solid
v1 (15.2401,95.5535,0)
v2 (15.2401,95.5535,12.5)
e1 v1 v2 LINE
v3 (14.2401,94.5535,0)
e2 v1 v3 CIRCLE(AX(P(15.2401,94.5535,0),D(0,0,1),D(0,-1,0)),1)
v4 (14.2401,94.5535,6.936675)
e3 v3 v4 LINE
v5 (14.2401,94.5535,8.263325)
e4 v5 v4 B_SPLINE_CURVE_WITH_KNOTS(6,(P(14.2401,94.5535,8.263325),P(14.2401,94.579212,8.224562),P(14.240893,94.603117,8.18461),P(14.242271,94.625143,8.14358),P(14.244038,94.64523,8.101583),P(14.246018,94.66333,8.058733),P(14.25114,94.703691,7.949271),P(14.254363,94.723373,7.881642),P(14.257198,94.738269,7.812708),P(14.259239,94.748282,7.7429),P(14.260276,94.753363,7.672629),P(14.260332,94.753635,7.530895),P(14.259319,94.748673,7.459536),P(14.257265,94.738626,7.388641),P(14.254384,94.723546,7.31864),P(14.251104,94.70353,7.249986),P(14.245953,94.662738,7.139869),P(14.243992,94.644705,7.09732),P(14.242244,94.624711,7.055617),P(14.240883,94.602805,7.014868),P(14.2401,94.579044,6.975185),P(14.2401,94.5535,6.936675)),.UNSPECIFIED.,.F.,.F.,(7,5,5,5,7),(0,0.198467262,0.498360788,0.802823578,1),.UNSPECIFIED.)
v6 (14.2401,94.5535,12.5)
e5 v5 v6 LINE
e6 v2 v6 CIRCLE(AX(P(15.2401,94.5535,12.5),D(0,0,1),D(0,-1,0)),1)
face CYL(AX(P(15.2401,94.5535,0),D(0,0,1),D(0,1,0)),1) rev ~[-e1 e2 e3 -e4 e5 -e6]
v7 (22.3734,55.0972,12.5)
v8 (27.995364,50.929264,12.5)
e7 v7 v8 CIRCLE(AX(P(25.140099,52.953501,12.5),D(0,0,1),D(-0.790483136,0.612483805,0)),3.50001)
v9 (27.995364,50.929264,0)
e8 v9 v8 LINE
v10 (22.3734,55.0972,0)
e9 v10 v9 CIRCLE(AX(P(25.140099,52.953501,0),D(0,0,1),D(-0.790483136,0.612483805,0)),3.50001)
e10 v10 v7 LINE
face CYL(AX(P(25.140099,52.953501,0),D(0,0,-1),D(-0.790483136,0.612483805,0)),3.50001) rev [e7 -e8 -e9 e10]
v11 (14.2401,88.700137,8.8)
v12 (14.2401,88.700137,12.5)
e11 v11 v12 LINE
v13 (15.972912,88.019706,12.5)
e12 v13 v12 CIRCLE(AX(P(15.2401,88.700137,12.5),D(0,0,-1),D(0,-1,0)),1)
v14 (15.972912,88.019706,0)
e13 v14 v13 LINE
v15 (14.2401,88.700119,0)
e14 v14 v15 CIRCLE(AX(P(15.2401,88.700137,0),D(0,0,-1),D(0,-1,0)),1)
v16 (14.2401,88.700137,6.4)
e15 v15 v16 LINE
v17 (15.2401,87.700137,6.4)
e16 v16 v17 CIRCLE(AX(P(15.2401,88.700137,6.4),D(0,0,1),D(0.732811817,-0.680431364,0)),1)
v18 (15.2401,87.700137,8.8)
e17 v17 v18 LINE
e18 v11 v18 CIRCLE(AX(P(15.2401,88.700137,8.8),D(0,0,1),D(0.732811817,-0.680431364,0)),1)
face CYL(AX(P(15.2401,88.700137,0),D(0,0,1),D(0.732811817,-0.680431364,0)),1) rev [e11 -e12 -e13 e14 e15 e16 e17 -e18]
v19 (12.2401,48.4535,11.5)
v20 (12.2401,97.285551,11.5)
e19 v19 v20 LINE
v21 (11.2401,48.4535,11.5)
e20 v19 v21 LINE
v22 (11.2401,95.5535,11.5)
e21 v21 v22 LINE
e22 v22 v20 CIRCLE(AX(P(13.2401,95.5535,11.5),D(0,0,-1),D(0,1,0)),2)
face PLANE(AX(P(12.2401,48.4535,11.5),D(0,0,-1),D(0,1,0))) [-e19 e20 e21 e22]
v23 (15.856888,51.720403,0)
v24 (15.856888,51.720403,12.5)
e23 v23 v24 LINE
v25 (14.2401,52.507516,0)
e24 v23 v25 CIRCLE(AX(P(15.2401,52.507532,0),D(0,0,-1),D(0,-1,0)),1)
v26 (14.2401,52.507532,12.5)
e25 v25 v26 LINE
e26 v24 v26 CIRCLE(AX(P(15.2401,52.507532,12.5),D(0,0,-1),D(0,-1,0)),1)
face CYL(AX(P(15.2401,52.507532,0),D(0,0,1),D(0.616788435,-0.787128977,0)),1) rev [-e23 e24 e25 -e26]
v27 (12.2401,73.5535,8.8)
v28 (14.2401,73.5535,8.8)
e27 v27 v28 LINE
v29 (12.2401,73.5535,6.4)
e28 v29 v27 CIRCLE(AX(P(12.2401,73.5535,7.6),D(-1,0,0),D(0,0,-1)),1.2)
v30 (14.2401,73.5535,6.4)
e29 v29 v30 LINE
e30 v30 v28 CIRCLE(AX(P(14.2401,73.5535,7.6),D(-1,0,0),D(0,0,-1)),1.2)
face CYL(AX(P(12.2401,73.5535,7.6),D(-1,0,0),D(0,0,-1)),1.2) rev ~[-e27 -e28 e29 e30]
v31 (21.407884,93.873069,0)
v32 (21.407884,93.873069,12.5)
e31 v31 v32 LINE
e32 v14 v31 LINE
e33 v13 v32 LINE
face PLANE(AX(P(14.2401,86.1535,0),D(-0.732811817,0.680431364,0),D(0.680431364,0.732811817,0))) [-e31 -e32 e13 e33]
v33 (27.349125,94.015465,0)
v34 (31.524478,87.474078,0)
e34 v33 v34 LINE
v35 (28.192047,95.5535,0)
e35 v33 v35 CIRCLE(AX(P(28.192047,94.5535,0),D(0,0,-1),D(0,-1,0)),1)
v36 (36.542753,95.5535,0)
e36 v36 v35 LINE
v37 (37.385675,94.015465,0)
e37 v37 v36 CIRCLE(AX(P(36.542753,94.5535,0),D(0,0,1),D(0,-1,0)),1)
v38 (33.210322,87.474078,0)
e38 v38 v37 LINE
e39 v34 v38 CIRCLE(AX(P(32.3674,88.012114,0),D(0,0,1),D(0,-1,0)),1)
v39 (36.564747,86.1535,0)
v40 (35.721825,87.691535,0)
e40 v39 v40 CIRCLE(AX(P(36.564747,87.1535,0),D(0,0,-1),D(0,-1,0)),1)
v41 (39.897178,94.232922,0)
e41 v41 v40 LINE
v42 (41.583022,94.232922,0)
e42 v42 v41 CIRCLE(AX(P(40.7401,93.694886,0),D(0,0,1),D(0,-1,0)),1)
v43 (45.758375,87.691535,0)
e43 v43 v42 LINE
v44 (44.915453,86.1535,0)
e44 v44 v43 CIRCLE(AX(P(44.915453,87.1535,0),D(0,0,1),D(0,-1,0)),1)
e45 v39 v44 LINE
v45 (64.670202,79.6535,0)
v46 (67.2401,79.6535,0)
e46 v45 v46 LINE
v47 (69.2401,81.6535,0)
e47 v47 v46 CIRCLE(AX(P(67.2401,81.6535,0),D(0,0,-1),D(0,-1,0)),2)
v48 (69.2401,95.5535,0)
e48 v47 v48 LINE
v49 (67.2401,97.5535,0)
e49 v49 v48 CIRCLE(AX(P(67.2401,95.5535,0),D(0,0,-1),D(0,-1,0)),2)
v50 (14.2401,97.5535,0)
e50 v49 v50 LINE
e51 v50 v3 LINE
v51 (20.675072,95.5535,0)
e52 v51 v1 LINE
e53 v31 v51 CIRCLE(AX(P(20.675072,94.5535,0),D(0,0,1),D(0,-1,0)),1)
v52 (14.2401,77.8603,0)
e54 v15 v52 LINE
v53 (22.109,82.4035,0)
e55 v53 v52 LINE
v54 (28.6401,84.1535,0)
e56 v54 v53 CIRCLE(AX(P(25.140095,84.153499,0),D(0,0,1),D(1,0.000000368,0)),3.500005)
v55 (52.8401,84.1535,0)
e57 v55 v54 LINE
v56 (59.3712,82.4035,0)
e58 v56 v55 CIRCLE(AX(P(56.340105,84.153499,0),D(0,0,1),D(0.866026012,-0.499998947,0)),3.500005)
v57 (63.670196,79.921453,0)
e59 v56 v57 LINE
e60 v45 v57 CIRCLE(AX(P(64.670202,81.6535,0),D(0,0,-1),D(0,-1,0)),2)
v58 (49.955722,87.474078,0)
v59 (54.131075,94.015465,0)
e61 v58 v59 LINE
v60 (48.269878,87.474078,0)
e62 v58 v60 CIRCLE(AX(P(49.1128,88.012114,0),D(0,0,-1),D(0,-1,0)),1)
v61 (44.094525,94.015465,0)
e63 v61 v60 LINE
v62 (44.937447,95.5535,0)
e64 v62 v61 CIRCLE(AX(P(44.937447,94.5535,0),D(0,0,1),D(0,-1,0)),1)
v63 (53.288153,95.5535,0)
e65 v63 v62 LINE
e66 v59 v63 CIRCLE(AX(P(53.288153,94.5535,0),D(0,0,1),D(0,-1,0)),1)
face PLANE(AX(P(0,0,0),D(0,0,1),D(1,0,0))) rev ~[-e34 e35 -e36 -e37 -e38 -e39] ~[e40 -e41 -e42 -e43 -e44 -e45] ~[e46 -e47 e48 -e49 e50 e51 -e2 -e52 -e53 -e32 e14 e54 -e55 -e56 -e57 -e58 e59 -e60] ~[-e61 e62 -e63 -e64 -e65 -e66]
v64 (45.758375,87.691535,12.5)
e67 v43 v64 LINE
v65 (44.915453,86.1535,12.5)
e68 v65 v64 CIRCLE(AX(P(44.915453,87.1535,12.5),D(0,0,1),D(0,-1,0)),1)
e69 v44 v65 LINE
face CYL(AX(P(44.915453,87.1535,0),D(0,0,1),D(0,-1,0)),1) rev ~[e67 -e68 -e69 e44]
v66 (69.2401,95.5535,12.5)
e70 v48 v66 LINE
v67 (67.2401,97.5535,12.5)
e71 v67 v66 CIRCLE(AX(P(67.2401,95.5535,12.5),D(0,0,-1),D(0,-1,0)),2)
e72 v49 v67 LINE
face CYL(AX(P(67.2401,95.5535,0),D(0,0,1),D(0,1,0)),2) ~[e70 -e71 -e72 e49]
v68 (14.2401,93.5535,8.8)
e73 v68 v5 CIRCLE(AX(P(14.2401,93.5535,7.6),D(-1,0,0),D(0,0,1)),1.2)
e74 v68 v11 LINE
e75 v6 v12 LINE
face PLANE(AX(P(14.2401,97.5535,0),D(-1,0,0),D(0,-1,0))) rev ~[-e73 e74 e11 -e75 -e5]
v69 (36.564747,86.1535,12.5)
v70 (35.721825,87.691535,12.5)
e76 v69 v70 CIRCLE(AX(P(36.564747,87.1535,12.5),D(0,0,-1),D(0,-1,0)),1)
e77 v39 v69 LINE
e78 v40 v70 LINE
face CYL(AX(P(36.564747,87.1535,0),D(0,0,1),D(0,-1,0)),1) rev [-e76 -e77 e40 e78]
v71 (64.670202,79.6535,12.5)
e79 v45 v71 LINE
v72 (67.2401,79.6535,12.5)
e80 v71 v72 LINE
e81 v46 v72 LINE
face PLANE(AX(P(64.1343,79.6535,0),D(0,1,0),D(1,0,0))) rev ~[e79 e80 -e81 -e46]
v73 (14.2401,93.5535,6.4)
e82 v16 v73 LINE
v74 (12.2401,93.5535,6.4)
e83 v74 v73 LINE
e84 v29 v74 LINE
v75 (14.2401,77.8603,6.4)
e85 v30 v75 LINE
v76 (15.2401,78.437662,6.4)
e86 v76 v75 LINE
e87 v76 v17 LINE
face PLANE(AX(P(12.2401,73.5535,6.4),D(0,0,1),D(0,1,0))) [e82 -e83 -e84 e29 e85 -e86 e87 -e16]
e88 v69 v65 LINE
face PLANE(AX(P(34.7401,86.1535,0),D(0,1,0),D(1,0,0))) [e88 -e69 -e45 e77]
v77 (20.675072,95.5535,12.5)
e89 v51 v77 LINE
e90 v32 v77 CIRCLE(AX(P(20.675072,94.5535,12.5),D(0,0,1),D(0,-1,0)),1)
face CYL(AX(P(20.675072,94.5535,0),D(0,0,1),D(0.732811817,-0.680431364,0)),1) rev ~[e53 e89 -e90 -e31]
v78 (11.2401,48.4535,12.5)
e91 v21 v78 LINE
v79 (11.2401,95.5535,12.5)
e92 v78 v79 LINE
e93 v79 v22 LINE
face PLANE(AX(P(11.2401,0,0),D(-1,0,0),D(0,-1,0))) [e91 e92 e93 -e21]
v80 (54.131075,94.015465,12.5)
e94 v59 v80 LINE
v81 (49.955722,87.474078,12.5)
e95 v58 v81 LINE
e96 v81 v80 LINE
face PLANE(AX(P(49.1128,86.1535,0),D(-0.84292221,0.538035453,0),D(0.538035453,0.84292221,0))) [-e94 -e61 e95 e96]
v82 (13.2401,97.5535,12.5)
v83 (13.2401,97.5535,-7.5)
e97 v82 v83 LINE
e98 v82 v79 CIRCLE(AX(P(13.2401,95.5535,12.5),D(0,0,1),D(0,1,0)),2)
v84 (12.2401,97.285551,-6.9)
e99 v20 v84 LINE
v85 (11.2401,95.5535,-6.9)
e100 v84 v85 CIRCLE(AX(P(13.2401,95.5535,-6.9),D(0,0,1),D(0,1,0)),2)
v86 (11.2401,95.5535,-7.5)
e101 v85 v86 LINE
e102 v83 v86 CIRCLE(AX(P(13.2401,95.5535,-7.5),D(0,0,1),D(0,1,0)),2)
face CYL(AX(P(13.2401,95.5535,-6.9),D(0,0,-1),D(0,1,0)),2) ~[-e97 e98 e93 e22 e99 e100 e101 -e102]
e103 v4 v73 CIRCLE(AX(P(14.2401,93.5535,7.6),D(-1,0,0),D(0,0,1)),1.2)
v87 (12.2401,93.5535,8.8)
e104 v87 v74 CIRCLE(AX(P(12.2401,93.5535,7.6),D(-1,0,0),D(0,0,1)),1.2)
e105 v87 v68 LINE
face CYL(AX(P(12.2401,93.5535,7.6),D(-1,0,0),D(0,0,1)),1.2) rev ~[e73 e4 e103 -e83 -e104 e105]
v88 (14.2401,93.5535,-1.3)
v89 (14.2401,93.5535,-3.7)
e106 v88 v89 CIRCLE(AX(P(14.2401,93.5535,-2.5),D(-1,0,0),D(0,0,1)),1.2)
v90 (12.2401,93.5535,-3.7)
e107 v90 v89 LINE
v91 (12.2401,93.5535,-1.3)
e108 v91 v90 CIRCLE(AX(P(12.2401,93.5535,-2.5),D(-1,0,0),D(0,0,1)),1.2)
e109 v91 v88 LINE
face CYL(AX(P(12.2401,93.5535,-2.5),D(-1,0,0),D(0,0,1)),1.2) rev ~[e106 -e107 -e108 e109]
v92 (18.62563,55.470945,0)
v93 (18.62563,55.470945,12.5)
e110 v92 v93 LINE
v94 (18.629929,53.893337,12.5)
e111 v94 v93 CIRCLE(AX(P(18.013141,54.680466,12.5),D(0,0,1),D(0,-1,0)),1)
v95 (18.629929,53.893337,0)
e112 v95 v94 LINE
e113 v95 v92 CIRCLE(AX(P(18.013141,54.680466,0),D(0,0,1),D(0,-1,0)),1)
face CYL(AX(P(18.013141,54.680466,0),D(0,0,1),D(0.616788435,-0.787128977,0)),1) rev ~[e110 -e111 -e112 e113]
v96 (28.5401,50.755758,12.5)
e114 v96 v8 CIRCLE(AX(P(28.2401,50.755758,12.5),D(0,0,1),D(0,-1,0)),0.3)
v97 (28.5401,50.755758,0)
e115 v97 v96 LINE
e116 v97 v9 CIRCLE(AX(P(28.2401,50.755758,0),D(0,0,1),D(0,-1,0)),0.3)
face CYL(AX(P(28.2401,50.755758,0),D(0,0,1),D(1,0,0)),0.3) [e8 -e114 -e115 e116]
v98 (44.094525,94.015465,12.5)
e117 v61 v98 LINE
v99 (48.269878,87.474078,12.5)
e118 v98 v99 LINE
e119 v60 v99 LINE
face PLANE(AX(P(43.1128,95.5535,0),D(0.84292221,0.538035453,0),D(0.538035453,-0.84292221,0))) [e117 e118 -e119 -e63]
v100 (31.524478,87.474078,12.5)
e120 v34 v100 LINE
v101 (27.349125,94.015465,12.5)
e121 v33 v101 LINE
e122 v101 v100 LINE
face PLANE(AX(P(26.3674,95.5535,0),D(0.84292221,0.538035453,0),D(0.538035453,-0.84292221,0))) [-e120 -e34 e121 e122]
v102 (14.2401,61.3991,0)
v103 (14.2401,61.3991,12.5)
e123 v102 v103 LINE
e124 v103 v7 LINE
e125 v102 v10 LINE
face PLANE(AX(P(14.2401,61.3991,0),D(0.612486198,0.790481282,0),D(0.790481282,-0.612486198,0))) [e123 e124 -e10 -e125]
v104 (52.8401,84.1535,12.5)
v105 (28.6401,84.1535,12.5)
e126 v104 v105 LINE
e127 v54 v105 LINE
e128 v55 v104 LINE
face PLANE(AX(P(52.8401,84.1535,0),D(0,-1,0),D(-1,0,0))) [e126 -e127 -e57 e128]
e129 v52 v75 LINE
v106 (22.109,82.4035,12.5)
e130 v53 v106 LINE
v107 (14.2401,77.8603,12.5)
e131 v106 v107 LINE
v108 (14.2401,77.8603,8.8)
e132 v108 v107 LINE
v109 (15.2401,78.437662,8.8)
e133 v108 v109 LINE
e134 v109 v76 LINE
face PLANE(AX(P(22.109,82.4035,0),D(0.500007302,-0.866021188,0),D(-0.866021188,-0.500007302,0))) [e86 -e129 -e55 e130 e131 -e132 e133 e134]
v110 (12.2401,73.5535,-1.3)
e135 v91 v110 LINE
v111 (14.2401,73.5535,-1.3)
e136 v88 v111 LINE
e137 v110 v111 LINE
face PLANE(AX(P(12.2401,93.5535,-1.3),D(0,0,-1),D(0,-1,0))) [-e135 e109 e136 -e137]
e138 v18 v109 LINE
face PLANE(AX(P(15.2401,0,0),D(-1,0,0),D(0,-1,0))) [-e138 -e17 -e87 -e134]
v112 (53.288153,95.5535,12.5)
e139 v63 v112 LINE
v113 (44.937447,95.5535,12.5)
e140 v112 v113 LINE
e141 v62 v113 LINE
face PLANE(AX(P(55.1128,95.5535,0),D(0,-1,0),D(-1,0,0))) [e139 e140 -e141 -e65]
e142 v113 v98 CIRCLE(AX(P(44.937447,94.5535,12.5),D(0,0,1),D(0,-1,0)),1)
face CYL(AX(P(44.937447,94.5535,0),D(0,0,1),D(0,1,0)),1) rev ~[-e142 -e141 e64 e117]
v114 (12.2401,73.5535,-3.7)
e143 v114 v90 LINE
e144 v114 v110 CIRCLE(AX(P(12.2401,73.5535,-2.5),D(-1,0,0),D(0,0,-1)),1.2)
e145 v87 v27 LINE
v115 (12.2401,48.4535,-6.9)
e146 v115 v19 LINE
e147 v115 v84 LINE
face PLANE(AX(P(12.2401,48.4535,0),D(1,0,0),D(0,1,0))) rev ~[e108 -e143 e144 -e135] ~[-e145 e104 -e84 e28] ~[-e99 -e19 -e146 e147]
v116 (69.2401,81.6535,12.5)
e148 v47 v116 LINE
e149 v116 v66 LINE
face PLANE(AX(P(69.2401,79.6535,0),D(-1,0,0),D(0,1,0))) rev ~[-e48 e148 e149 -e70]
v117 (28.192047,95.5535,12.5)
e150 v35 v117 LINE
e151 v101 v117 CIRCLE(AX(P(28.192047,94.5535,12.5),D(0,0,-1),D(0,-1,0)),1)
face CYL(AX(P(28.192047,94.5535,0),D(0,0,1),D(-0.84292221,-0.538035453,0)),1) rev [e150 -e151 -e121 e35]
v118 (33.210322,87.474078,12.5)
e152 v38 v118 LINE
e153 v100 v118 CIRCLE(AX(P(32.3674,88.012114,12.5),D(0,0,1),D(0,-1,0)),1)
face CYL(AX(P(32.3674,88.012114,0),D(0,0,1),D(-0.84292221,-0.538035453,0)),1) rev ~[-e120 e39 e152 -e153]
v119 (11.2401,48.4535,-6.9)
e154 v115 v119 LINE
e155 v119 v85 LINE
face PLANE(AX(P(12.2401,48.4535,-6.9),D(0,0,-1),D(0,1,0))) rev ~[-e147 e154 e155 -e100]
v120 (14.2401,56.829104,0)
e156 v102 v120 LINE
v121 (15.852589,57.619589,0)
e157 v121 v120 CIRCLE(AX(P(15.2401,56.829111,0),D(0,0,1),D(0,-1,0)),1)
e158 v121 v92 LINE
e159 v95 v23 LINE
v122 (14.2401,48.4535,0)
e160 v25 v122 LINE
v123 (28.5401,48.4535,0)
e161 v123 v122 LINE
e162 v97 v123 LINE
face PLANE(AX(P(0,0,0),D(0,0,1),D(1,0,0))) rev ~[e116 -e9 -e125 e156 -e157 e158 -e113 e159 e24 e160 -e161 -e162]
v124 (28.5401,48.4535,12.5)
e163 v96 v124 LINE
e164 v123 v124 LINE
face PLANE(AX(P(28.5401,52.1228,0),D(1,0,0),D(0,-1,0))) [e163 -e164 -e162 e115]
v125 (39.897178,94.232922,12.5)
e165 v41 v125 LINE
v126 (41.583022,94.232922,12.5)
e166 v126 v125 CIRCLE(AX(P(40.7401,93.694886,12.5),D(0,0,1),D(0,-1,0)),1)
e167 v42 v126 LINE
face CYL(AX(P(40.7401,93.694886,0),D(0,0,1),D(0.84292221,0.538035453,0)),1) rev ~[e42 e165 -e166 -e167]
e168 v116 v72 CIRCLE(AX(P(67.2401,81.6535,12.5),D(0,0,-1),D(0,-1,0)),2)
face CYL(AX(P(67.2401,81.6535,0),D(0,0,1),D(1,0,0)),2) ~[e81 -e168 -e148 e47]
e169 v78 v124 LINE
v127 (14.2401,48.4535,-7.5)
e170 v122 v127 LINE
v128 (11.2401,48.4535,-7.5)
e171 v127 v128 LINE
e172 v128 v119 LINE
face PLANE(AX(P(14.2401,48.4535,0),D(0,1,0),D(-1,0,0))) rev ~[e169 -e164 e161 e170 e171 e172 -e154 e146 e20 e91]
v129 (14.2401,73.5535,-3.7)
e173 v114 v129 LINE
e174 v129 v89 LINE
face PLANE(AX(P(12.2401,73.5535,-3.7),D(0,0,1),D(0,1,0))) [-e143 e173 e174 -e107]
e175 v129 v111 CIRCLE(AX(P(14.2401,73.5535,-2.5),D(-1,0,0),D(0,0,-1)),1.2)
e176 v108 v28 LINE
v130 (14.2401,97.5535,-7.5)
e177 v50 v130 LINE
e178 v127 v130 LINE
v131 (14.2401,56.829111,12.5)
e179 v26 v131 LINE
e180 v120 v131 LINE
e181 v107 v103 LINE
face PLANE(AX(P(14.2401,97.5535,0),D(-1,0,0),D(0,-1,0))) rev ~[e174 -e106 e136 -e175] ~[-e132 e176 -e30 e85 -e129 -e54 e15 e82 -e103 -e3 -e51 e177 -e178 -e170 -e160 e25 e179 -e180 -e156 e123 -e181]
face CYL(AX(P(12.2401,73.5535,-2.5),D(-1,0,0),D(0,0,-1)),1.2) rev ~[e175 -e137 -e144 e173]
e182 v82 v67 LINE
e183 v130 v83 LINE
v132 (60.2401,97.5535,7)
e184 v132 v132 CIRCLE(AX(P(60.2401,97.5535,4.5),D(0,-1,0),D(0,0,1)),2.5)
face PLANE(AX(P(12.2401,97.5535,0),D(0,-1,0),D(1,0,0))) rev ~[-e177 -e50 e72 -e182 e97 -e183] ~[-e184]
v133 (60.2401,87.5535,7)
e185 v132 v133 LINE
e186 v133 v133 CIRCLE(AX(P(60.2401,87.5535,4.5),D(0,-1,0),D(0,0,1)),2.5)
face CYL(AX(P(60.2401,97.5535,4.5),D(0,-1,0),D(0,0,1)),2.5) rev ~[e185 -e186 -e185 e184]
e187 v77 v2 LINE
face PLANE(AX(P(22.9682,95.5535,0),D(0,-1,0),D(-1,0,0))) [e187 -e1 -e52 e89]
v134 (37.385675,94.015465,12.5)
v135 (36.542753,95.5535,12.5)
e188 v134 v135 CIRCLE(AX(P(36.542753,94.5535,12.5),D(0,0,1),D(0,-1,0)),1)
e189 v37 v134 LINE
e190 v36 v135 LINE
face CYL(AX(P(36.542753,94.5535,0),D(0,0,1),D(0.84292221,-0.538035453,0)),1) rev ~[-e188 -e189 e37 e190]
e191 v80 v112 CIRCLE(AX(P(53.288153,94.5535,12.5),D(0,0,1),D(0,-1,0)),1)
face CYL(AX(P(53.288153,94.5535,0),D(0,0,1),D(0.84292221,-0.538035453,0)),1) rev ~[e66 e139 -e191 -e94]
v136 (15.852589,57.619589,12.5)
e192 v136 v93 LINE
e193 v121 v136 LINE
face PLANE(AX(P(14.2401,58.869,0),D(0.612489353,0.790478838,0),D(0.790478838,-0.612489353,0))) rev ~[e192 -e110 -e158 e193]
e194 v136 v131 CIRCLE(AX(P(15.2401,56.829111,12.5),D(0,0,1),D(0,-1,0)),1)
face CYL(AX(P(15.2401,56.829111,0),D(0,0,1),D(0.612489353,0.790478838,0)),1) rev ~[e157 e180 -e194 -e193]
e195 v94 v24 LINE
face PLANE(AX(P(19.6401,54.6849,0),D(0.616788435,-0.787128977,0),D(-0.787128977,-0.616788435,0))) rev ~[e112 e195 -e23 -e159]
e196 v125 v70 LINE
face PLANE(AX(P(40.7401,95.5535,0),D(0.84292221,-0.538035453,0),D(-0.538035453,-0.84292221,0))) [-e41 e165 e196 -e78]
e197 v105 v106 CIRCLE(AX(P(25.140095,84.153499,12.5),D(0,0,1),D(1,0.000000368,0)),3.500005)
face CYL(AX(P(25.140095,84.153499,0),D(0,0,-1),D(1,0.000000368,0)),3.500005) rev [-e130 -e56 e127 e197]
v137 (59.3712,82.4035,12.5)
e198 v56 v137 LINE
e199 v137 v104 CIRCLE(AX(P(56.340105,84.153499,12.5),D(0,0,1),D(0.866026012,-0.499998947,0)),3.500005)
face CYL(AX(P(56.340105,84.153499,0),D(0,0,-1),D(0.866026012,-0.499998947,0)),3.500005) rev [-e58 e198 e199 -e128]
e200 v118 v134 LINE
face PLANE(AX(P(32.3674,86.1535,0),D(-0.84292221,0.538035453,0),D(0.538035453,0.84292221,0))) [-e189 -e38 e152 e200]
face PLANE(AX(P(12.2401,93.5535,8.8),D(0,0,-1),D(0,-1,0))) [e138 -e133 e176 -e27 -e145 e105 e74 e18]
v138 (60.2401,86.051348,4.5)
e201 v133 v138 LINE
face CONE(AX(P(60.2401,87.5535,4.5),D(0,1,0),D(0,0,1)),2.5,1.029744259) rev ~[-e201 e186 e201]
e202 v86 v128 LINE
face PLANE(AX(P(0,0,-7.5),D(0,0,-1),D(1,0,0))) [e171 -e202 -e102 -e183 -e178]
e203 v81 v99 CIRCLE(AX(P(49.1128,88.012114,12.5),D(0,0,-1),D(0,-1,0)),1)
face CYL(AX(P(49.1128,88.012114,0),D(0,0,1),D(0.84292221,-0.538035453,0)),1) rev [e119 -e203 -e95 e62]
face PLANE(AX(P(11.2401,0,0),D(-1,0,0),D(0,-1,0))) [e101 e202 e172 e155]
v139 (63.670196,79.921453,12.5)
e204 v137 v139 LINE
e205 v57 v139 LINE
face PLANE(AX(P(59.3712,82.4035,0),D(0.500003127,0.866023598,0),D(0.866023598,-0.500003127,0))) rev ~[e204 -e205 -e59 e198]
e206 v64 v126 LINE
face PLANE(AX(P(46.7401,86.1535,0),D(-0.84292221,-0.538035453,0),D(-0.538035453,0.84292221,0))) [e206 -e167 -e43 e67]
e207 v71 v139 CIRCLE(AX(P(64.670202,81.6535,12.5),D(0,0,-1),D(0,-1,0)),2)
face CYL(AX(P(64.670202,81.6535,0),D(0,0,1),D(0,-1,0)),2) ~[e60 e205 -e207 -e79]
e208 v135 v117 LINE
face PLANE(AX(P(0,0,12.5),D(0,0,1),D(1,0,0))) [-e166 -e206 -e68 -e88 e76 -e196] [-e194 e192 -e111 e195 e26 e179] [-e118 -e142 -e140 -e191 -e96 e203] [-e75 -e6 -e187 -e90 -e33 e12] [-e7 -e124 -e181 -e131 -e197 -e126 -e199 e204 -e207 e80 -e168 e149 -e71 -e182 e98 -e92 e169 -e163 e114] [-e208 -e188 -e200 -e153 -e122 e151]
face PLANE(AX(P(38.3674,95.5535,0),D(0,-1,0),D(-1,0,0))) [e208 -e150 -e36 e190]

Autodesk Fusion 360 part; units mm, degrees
sketch "Sketch1" plane through (0, 0, 0) normal (0, 0, 1) x (1, 0, 0)
  line L0 (69.2401, 97.5535) -> (12.2401, 97.5535)
  line L1 (12.2401, 97.5535) -> (12.2401, 48.4535)
  line L2 (52.8401, 84.1535) -> (28.6401, 84.1535)
  line L3 (59.3712, 82.4035) -> (64.1343, 79.6535)
  line L4 (64.1343, 79.6535) -> (69.2401, 79.6535)
  line L5 (69.2401, 79.6535) -> (69.2401, 97.5535)
  line L6 (22.109, 82.4035) -> (14.2401, 77.8603)
  line L7 (14.2401, 77.8603) -> (14.2401, 61.3991)
  line L8 (14.2401, 61.3991) -> (22.3734, 55.0972)
  line L9 (28.5401, 52.1228) -> (28.5401, 48.4535)
  line L10 (28.5401, 48.4535) -> (12.2401, 48.4535)
  arc A0 (59.3712, 82.4035) -> (52.8401, 84.1535) centre (56.3401, 84.1535) ccw
  arc A1 (28.6401, 84.1535) -> (22.109, 82.4035) centre (25.1401, 84.1535) ccw
  arc A2 (22.3734, 55.0972) -> (28.5401, 52.1228) centre (25.1401, 52.9535) ccw
  line L11 (14.2401, 50.4535) -> (14.2401, 58.869)
  line L12 (14.2401, 58.869) -> (19.6401, 54.6849)
  line L13 (19.6401, 54.6849) -> (14.2401, 50.4535)
  line L14 (14.2401, 86.1535) -> (22.9682, 95.5535)
  line L15 (22.9682, 95.5535) -> (14.2401, 95.5535)
  line L16 (14.2401, 95.5535) -> (14.2401, 86.1535)
  line L17 (26.3674, 95.5535) -> (32.3674, 86.1535)
  line L18 (32.3674, 86.1535) -> (38.3674, 95.5535)
  line L19 (38.3674, 95.5535) -> (26.3674, 95.5535)
  line L20 (49.1128, 86.1535) -> (55.1128, 95.5535)
  line L21 (55.1128, 95.5535) -> (43.1128, 95.5535)
  line L22 (43.1128, 95.5535) -> (49.1128, 86.1535)
  line L23 (34.7401, 86.1535) -> (46.7401, 86.1535)
  line L24 (46.7401, 86.1535) -> (40.7401, 95.5535)
  line L25 (40.7401, 95.5535) -> (34.7401, 86.1535)
  dimension "d1" = 7
  dimension "d2" = 7
  dimension "d3" = 31.2
  dimension "d10" = 7
  dimension "d11" = 150
  dimension "d12" = 150
  dimension "d13" = 127.769
  dimension "d14" = 12.9
  dimension "d15" = 12.9
  dimension "d16" = 31.2
  dimension "d17" = 4.5
  dimension "d18" = 13.4
  dimension "d19" = 12.9
  dimension "d21" = 4.5
  dimension "d23" = 2
  dimension "d24" = 5.5
  dimension "d25" = 2
  dimension "d26" = 2
  dimension "d27" = 2
  dimension "d35" = 2
  dimension "d36" = 2
  dimension "d37" = 2
  dimension "d38" = 2
  dimension "d39" = 2
  dimension "d40" = 2
  dimension "d41" = 2
  dimension "d42" = 2
  dimension "d43" = 2
  dimension "d44" = 2
  dimension "d45" = 12
  dimension "d46" = 15.6
  dimension "d47" = 2
  dimension "d74" = 90
  dimension "d77" = 3.4
extrude "Extrude1" add sketch "Sketch1" along normal blind 12.5
sketch "Sketch2" plane through (0, 97.5535, 0) normal (0, 1, 0) x (-1, 0, 0)
  line L0 (-69.2401, 0) -> (-12.2401, 0)
  line L1 (-12.2401, 0) -> (-12.2401, 12.5)
  line L2 (-12.2401, 12.5) -> (-69.2401, 12.5)
  line L3 (-69.2401, 12.5) -> (-69.2401, 0)
  point P0 (-60.2401, 4.5)
  dimension "d30" = 9
  dimension "d31" = 8
hole "Hole1" at (60.2401, 97.5535, 4.5) direction (0, -1, 0) diameter 5 depth 10 tip angle 118
fillet "Fillet2" radius 1 15 edges at (55.1128, 95.5535, 6.25) (43.1128, 95.5535, 6.25) (49.1128, 86.1535, 6.25) (46.7401, 86.1535, 6.25) (40.7401, 95.5535, 6.25) (34.7401, 86.1535, 6.25) (38.3674, 95.5535, 6.25) (32.3674, 86.1535, 6.25) (26.3674, 95.5535, 6.25) (22.9682, 95.5535, 6.25) (14.2401, 86.1535, 6.25) (14.2401, 95.5535, 6.25) (19.6401, 54.6849, 6.25) (14.2401, 58.869, 6.25) (14.2401, 50.4535, 6.25)
sketch "Sketch3" plane through (0, 0, 0) normal (0, 0, -1) x (1, 0, 0)
  line L0 (69.2401, -79.6535) -> (64.1343, -79.6535)
  line L1 (64.1343, -79.6535) -> (59.3712, -82.4035)
  arc A0 (52.8401, -84.1535) -> (59.3712, -82.4035) centre (56.3401, -84.1535) ccw
  line L2 (52.8401, -84.1535) -> (28.6401, -84.1535)
  arc A1 (22.109, -82.4035) -> (28.6401, -84.1535) centre (25.1401, -84.1535) ccw
  line L3 (22.109, -82.4035) -> (14.2401, -77.8603)
  line L4 (14.2401, -77.8603) -> (14.2401, -61.3991)
  line L5 (14.2401, -61.3991) -> (22.3734, -55.0972)
  arc A2 (28.5401, -52.1228) -> (22.3734, -55.0972) centre (25.1401, -52.9535) ccw
  line L6 (28.5401, -52.1228) -> (28.5401, -48.4535)
  line L7 (28.5401, -48.4535) -> (12.2401, -48.4535)
  line L8 (12.2401, -48.4535) -> (12.2401, -97.5535)
  line L9 (12.2401, -97.5535) -> (69.2401, -97.5535)
  line L10 (69.2401, -97.5535) -> (69.2401, -79.6535)
  arc A3 (27.3491, -94.0154) -> (28.1921, -95.5535) centre (28.1921, -94.5535) ccw
  line L11 (27.3491, -94.0154) -> (31.5245, -87.474)
  arc A4 (33.2103, -87.474) -> (31.5245, -87.474) centre (32.3674, -88.0121) ccw
  line L12 (33.2103, -87.474) -> (37.3857, -94.0154)
  arc A5 (36.5428, -95.5535) -> (37.3857, -94.0154) centre (36.5428, -94.5535) ccw
  line L13 (36.5428, -95.5535) -> (28.1921, -95.5535)
  arc A6 (14.2401, -56.8291) -> (15.8526, -57.6196) centre (15.2401, -56.8291) ccw
  line L14 (14.2401, -56.8291) -> (14.2401, -52.5075)
  arc A7 (15.8569, -51.7204) -> (14.2401, -52.5075) centre (15.2401, -52.5075) ccw
  line L15 (15.8569, -51.7204) -> (18.6299, -53.8933)
  arc A8 (18.6256, -55.4709) -> (18.6299, -53.8933) centre (18.0131, -54.6805) ccw
  line L16 (18.6256, -55.4709) -> (15.8526, -57.6196)
  arc A9 (15.9729, -88.0197) -> (14.2401, -88.7001) centre (15.2401, -88.7001) ccw
  line L17 (15.9729, -88.0197) -> (21.4079, -93.873)
  arc A10 (20.6751, -95.5535) -> (21.4079, -93.873) centre (20.6751, -94.5535) ccw
  line L18 (20.6751, -95.5535) -> (15.2401, -95.5535)
  arc A11 (14.2401, -94.5535) -> (15.2401, -95.5535) centre (15.2401, -94.5535) ccw
  line L19 (14.2401, -94.5535) -> (14.2401, -88.7001)
  arc A12 (49.9557, -87.474) -> (48.2699, -87.474) centre (49.1128, -88.0121) ccw
  line L20 (49.9557, -87.474) -> (54.1311, -94.0154)
  arc A13 (53.2882, -95.5535) -> (54.1311, -94.0154) centre (53.2882, -94.5535) ccw
  line L21 (53.2882, -95.5535) -> (44.9375, -95.5535)
  arc A14 (44.0945, -94.0154) -> (44.9375, -95.5535) centre (44.9375, -94.5535) ccw
  line L22 (44.0945, -94.0154) -> (48.2699, -87.474)
  arc A15 (36.5648, -86.1535) -> (35.7218, -87.6915) centre (36.5648, -87.1535) ccw
  line L23 (36.5648, -86.1535) -> (44.9155, -86.1535)
  arc A16 (45.7584, -87.6915) -> (44.9155, -86.1535) centre (44.9155, -87.1535) ccw
  line L24 (45.7584, -87.6915) -> (41.583, -94.2329)
  arc A17 (39.8972, -94.2329) -> (41.583, -94.2329) centre (40.7401, -93.6948) ccw
  line L25 (39.8972, -94.2329) -> (35.7218, -87.6915)
  line L26 (12.2401, -48.4535) -> (14.2401, -48.4535)
  line L27 (12.2401, -48.4535) -> (12.2401, -97.5535)
  line L28 (12.2401, -97.5535) -> (14.2401, -97.5535)
  line L29 (14.2401, -97.5535) -> (14.2401, -48.4535)
  dimension "d51" = 2
  dimension "d52" = 2
extrude "Extrude2" add sketch "Sketch3" along normal blind 7.5 contours L4 L7 L8 L9 L14 L19 L26 L27 L28 L29
sketch "Sketch4" plane through (12.2401, 0, 0) normal (-1, 0, 0) x (0, -1, 0)
  line L0 (-48.4535, -7.5) -> (-48.4535, 12.5)
  line L1 (-48.4535, 12.5) -> (-97.5535, 12.5)
  line L2 (-97.5535, 12.5) -> (-97.5535, -7.5)
  line L3 (-97.5535, -7.5) -> (-48.4535, -7.5)
  line L4 (-93.5535, -1.3) -> (-73.5535, -1.3)
  arc A0 (-73.5535, -3.7) -> (-73.5535, -1.3) centre (-73.5535, -2.5) ccw
  line L5 (-73.5535, -3.7) -> (-93.5535, -3.7)
  arc A1 (-93.5535, -1.3) -> (-93.5535, -3.7) centre (-93.5535, -2.5) ccw
  arc A2 (-93.5535, 8.8) -> (-93.5535, 6.4) centre (-93.5535, 7.6) ccw
  arc A3 (-73.5535, 6.4) -> (-73.5535, 8.8) centre (-73.5535, 7.6) ccw
  line L6 (-73.5535, 6.4) -> (-93.5535, 6.4)
  line L7 (-93.5535, 8.8) -> (-73.5535, 8.8)
  line L8 (-97.5535, 12.5) -> (-48.4535, 12.5)
  line L9 (-48.4535, 12.5) -> (-48.4535, 11.5)
  line L10 (-48.4535, 11.5) -> (-97.5535, 11.5)
  line L11 (-97.5535, 11.5) -> (-97.5535, 12.5)
  line L12 (-97.5535, -7.5) -> (-48.4535, -7.5)
  line L13 (-48.4535, -7.5) -> (-48.4535, -6.9)
  line L14 (-48.4535, -6.9) -> (-97.5535, -6.9)
  line L15 (-97.5535, -6.9) -> (-97.5535, -7.5)
  dimension "d55" = 2.4
  dimension "d56" = 20
  dimension "d59" = 2.4
  dimension "d60" = 20
  dimension "d61" = 7.7
  dimension "d63" = 4
  dimension "d64" = 4
  dimension "d65" = 3.7
  dimension "d69" = 1
  dimension "d79" = 0.6
extrude "Extrude3" cut sketch "Sketch4" against normal blind 3 contours L4 A0 L5 A1 | A2 A3 L6 L7
extrude "Extrude4" add sketch "Sketch4" along normal blind 1 contours L0 L2 L3 L12 L13 L14 L15 | L0 L1 L2 L8 L9 L10 L11
fillet "Fillet3" radius 2 3 edges at (11.2401, 97.5535, -7.2) (11.2401, 97.5535, 12) (12.2401, 97.5535, 2.3)
fillet "Fillet3" radius 2 3 edges at (69.2401, 97.5535, 6.25) (69.2401, 79.6535, 6.25) (64.1343, 79.6535, 6.25)
fillet "Fillet3" radius 0.3 1 edges at (28.5401, 52.1228, 6.25)
